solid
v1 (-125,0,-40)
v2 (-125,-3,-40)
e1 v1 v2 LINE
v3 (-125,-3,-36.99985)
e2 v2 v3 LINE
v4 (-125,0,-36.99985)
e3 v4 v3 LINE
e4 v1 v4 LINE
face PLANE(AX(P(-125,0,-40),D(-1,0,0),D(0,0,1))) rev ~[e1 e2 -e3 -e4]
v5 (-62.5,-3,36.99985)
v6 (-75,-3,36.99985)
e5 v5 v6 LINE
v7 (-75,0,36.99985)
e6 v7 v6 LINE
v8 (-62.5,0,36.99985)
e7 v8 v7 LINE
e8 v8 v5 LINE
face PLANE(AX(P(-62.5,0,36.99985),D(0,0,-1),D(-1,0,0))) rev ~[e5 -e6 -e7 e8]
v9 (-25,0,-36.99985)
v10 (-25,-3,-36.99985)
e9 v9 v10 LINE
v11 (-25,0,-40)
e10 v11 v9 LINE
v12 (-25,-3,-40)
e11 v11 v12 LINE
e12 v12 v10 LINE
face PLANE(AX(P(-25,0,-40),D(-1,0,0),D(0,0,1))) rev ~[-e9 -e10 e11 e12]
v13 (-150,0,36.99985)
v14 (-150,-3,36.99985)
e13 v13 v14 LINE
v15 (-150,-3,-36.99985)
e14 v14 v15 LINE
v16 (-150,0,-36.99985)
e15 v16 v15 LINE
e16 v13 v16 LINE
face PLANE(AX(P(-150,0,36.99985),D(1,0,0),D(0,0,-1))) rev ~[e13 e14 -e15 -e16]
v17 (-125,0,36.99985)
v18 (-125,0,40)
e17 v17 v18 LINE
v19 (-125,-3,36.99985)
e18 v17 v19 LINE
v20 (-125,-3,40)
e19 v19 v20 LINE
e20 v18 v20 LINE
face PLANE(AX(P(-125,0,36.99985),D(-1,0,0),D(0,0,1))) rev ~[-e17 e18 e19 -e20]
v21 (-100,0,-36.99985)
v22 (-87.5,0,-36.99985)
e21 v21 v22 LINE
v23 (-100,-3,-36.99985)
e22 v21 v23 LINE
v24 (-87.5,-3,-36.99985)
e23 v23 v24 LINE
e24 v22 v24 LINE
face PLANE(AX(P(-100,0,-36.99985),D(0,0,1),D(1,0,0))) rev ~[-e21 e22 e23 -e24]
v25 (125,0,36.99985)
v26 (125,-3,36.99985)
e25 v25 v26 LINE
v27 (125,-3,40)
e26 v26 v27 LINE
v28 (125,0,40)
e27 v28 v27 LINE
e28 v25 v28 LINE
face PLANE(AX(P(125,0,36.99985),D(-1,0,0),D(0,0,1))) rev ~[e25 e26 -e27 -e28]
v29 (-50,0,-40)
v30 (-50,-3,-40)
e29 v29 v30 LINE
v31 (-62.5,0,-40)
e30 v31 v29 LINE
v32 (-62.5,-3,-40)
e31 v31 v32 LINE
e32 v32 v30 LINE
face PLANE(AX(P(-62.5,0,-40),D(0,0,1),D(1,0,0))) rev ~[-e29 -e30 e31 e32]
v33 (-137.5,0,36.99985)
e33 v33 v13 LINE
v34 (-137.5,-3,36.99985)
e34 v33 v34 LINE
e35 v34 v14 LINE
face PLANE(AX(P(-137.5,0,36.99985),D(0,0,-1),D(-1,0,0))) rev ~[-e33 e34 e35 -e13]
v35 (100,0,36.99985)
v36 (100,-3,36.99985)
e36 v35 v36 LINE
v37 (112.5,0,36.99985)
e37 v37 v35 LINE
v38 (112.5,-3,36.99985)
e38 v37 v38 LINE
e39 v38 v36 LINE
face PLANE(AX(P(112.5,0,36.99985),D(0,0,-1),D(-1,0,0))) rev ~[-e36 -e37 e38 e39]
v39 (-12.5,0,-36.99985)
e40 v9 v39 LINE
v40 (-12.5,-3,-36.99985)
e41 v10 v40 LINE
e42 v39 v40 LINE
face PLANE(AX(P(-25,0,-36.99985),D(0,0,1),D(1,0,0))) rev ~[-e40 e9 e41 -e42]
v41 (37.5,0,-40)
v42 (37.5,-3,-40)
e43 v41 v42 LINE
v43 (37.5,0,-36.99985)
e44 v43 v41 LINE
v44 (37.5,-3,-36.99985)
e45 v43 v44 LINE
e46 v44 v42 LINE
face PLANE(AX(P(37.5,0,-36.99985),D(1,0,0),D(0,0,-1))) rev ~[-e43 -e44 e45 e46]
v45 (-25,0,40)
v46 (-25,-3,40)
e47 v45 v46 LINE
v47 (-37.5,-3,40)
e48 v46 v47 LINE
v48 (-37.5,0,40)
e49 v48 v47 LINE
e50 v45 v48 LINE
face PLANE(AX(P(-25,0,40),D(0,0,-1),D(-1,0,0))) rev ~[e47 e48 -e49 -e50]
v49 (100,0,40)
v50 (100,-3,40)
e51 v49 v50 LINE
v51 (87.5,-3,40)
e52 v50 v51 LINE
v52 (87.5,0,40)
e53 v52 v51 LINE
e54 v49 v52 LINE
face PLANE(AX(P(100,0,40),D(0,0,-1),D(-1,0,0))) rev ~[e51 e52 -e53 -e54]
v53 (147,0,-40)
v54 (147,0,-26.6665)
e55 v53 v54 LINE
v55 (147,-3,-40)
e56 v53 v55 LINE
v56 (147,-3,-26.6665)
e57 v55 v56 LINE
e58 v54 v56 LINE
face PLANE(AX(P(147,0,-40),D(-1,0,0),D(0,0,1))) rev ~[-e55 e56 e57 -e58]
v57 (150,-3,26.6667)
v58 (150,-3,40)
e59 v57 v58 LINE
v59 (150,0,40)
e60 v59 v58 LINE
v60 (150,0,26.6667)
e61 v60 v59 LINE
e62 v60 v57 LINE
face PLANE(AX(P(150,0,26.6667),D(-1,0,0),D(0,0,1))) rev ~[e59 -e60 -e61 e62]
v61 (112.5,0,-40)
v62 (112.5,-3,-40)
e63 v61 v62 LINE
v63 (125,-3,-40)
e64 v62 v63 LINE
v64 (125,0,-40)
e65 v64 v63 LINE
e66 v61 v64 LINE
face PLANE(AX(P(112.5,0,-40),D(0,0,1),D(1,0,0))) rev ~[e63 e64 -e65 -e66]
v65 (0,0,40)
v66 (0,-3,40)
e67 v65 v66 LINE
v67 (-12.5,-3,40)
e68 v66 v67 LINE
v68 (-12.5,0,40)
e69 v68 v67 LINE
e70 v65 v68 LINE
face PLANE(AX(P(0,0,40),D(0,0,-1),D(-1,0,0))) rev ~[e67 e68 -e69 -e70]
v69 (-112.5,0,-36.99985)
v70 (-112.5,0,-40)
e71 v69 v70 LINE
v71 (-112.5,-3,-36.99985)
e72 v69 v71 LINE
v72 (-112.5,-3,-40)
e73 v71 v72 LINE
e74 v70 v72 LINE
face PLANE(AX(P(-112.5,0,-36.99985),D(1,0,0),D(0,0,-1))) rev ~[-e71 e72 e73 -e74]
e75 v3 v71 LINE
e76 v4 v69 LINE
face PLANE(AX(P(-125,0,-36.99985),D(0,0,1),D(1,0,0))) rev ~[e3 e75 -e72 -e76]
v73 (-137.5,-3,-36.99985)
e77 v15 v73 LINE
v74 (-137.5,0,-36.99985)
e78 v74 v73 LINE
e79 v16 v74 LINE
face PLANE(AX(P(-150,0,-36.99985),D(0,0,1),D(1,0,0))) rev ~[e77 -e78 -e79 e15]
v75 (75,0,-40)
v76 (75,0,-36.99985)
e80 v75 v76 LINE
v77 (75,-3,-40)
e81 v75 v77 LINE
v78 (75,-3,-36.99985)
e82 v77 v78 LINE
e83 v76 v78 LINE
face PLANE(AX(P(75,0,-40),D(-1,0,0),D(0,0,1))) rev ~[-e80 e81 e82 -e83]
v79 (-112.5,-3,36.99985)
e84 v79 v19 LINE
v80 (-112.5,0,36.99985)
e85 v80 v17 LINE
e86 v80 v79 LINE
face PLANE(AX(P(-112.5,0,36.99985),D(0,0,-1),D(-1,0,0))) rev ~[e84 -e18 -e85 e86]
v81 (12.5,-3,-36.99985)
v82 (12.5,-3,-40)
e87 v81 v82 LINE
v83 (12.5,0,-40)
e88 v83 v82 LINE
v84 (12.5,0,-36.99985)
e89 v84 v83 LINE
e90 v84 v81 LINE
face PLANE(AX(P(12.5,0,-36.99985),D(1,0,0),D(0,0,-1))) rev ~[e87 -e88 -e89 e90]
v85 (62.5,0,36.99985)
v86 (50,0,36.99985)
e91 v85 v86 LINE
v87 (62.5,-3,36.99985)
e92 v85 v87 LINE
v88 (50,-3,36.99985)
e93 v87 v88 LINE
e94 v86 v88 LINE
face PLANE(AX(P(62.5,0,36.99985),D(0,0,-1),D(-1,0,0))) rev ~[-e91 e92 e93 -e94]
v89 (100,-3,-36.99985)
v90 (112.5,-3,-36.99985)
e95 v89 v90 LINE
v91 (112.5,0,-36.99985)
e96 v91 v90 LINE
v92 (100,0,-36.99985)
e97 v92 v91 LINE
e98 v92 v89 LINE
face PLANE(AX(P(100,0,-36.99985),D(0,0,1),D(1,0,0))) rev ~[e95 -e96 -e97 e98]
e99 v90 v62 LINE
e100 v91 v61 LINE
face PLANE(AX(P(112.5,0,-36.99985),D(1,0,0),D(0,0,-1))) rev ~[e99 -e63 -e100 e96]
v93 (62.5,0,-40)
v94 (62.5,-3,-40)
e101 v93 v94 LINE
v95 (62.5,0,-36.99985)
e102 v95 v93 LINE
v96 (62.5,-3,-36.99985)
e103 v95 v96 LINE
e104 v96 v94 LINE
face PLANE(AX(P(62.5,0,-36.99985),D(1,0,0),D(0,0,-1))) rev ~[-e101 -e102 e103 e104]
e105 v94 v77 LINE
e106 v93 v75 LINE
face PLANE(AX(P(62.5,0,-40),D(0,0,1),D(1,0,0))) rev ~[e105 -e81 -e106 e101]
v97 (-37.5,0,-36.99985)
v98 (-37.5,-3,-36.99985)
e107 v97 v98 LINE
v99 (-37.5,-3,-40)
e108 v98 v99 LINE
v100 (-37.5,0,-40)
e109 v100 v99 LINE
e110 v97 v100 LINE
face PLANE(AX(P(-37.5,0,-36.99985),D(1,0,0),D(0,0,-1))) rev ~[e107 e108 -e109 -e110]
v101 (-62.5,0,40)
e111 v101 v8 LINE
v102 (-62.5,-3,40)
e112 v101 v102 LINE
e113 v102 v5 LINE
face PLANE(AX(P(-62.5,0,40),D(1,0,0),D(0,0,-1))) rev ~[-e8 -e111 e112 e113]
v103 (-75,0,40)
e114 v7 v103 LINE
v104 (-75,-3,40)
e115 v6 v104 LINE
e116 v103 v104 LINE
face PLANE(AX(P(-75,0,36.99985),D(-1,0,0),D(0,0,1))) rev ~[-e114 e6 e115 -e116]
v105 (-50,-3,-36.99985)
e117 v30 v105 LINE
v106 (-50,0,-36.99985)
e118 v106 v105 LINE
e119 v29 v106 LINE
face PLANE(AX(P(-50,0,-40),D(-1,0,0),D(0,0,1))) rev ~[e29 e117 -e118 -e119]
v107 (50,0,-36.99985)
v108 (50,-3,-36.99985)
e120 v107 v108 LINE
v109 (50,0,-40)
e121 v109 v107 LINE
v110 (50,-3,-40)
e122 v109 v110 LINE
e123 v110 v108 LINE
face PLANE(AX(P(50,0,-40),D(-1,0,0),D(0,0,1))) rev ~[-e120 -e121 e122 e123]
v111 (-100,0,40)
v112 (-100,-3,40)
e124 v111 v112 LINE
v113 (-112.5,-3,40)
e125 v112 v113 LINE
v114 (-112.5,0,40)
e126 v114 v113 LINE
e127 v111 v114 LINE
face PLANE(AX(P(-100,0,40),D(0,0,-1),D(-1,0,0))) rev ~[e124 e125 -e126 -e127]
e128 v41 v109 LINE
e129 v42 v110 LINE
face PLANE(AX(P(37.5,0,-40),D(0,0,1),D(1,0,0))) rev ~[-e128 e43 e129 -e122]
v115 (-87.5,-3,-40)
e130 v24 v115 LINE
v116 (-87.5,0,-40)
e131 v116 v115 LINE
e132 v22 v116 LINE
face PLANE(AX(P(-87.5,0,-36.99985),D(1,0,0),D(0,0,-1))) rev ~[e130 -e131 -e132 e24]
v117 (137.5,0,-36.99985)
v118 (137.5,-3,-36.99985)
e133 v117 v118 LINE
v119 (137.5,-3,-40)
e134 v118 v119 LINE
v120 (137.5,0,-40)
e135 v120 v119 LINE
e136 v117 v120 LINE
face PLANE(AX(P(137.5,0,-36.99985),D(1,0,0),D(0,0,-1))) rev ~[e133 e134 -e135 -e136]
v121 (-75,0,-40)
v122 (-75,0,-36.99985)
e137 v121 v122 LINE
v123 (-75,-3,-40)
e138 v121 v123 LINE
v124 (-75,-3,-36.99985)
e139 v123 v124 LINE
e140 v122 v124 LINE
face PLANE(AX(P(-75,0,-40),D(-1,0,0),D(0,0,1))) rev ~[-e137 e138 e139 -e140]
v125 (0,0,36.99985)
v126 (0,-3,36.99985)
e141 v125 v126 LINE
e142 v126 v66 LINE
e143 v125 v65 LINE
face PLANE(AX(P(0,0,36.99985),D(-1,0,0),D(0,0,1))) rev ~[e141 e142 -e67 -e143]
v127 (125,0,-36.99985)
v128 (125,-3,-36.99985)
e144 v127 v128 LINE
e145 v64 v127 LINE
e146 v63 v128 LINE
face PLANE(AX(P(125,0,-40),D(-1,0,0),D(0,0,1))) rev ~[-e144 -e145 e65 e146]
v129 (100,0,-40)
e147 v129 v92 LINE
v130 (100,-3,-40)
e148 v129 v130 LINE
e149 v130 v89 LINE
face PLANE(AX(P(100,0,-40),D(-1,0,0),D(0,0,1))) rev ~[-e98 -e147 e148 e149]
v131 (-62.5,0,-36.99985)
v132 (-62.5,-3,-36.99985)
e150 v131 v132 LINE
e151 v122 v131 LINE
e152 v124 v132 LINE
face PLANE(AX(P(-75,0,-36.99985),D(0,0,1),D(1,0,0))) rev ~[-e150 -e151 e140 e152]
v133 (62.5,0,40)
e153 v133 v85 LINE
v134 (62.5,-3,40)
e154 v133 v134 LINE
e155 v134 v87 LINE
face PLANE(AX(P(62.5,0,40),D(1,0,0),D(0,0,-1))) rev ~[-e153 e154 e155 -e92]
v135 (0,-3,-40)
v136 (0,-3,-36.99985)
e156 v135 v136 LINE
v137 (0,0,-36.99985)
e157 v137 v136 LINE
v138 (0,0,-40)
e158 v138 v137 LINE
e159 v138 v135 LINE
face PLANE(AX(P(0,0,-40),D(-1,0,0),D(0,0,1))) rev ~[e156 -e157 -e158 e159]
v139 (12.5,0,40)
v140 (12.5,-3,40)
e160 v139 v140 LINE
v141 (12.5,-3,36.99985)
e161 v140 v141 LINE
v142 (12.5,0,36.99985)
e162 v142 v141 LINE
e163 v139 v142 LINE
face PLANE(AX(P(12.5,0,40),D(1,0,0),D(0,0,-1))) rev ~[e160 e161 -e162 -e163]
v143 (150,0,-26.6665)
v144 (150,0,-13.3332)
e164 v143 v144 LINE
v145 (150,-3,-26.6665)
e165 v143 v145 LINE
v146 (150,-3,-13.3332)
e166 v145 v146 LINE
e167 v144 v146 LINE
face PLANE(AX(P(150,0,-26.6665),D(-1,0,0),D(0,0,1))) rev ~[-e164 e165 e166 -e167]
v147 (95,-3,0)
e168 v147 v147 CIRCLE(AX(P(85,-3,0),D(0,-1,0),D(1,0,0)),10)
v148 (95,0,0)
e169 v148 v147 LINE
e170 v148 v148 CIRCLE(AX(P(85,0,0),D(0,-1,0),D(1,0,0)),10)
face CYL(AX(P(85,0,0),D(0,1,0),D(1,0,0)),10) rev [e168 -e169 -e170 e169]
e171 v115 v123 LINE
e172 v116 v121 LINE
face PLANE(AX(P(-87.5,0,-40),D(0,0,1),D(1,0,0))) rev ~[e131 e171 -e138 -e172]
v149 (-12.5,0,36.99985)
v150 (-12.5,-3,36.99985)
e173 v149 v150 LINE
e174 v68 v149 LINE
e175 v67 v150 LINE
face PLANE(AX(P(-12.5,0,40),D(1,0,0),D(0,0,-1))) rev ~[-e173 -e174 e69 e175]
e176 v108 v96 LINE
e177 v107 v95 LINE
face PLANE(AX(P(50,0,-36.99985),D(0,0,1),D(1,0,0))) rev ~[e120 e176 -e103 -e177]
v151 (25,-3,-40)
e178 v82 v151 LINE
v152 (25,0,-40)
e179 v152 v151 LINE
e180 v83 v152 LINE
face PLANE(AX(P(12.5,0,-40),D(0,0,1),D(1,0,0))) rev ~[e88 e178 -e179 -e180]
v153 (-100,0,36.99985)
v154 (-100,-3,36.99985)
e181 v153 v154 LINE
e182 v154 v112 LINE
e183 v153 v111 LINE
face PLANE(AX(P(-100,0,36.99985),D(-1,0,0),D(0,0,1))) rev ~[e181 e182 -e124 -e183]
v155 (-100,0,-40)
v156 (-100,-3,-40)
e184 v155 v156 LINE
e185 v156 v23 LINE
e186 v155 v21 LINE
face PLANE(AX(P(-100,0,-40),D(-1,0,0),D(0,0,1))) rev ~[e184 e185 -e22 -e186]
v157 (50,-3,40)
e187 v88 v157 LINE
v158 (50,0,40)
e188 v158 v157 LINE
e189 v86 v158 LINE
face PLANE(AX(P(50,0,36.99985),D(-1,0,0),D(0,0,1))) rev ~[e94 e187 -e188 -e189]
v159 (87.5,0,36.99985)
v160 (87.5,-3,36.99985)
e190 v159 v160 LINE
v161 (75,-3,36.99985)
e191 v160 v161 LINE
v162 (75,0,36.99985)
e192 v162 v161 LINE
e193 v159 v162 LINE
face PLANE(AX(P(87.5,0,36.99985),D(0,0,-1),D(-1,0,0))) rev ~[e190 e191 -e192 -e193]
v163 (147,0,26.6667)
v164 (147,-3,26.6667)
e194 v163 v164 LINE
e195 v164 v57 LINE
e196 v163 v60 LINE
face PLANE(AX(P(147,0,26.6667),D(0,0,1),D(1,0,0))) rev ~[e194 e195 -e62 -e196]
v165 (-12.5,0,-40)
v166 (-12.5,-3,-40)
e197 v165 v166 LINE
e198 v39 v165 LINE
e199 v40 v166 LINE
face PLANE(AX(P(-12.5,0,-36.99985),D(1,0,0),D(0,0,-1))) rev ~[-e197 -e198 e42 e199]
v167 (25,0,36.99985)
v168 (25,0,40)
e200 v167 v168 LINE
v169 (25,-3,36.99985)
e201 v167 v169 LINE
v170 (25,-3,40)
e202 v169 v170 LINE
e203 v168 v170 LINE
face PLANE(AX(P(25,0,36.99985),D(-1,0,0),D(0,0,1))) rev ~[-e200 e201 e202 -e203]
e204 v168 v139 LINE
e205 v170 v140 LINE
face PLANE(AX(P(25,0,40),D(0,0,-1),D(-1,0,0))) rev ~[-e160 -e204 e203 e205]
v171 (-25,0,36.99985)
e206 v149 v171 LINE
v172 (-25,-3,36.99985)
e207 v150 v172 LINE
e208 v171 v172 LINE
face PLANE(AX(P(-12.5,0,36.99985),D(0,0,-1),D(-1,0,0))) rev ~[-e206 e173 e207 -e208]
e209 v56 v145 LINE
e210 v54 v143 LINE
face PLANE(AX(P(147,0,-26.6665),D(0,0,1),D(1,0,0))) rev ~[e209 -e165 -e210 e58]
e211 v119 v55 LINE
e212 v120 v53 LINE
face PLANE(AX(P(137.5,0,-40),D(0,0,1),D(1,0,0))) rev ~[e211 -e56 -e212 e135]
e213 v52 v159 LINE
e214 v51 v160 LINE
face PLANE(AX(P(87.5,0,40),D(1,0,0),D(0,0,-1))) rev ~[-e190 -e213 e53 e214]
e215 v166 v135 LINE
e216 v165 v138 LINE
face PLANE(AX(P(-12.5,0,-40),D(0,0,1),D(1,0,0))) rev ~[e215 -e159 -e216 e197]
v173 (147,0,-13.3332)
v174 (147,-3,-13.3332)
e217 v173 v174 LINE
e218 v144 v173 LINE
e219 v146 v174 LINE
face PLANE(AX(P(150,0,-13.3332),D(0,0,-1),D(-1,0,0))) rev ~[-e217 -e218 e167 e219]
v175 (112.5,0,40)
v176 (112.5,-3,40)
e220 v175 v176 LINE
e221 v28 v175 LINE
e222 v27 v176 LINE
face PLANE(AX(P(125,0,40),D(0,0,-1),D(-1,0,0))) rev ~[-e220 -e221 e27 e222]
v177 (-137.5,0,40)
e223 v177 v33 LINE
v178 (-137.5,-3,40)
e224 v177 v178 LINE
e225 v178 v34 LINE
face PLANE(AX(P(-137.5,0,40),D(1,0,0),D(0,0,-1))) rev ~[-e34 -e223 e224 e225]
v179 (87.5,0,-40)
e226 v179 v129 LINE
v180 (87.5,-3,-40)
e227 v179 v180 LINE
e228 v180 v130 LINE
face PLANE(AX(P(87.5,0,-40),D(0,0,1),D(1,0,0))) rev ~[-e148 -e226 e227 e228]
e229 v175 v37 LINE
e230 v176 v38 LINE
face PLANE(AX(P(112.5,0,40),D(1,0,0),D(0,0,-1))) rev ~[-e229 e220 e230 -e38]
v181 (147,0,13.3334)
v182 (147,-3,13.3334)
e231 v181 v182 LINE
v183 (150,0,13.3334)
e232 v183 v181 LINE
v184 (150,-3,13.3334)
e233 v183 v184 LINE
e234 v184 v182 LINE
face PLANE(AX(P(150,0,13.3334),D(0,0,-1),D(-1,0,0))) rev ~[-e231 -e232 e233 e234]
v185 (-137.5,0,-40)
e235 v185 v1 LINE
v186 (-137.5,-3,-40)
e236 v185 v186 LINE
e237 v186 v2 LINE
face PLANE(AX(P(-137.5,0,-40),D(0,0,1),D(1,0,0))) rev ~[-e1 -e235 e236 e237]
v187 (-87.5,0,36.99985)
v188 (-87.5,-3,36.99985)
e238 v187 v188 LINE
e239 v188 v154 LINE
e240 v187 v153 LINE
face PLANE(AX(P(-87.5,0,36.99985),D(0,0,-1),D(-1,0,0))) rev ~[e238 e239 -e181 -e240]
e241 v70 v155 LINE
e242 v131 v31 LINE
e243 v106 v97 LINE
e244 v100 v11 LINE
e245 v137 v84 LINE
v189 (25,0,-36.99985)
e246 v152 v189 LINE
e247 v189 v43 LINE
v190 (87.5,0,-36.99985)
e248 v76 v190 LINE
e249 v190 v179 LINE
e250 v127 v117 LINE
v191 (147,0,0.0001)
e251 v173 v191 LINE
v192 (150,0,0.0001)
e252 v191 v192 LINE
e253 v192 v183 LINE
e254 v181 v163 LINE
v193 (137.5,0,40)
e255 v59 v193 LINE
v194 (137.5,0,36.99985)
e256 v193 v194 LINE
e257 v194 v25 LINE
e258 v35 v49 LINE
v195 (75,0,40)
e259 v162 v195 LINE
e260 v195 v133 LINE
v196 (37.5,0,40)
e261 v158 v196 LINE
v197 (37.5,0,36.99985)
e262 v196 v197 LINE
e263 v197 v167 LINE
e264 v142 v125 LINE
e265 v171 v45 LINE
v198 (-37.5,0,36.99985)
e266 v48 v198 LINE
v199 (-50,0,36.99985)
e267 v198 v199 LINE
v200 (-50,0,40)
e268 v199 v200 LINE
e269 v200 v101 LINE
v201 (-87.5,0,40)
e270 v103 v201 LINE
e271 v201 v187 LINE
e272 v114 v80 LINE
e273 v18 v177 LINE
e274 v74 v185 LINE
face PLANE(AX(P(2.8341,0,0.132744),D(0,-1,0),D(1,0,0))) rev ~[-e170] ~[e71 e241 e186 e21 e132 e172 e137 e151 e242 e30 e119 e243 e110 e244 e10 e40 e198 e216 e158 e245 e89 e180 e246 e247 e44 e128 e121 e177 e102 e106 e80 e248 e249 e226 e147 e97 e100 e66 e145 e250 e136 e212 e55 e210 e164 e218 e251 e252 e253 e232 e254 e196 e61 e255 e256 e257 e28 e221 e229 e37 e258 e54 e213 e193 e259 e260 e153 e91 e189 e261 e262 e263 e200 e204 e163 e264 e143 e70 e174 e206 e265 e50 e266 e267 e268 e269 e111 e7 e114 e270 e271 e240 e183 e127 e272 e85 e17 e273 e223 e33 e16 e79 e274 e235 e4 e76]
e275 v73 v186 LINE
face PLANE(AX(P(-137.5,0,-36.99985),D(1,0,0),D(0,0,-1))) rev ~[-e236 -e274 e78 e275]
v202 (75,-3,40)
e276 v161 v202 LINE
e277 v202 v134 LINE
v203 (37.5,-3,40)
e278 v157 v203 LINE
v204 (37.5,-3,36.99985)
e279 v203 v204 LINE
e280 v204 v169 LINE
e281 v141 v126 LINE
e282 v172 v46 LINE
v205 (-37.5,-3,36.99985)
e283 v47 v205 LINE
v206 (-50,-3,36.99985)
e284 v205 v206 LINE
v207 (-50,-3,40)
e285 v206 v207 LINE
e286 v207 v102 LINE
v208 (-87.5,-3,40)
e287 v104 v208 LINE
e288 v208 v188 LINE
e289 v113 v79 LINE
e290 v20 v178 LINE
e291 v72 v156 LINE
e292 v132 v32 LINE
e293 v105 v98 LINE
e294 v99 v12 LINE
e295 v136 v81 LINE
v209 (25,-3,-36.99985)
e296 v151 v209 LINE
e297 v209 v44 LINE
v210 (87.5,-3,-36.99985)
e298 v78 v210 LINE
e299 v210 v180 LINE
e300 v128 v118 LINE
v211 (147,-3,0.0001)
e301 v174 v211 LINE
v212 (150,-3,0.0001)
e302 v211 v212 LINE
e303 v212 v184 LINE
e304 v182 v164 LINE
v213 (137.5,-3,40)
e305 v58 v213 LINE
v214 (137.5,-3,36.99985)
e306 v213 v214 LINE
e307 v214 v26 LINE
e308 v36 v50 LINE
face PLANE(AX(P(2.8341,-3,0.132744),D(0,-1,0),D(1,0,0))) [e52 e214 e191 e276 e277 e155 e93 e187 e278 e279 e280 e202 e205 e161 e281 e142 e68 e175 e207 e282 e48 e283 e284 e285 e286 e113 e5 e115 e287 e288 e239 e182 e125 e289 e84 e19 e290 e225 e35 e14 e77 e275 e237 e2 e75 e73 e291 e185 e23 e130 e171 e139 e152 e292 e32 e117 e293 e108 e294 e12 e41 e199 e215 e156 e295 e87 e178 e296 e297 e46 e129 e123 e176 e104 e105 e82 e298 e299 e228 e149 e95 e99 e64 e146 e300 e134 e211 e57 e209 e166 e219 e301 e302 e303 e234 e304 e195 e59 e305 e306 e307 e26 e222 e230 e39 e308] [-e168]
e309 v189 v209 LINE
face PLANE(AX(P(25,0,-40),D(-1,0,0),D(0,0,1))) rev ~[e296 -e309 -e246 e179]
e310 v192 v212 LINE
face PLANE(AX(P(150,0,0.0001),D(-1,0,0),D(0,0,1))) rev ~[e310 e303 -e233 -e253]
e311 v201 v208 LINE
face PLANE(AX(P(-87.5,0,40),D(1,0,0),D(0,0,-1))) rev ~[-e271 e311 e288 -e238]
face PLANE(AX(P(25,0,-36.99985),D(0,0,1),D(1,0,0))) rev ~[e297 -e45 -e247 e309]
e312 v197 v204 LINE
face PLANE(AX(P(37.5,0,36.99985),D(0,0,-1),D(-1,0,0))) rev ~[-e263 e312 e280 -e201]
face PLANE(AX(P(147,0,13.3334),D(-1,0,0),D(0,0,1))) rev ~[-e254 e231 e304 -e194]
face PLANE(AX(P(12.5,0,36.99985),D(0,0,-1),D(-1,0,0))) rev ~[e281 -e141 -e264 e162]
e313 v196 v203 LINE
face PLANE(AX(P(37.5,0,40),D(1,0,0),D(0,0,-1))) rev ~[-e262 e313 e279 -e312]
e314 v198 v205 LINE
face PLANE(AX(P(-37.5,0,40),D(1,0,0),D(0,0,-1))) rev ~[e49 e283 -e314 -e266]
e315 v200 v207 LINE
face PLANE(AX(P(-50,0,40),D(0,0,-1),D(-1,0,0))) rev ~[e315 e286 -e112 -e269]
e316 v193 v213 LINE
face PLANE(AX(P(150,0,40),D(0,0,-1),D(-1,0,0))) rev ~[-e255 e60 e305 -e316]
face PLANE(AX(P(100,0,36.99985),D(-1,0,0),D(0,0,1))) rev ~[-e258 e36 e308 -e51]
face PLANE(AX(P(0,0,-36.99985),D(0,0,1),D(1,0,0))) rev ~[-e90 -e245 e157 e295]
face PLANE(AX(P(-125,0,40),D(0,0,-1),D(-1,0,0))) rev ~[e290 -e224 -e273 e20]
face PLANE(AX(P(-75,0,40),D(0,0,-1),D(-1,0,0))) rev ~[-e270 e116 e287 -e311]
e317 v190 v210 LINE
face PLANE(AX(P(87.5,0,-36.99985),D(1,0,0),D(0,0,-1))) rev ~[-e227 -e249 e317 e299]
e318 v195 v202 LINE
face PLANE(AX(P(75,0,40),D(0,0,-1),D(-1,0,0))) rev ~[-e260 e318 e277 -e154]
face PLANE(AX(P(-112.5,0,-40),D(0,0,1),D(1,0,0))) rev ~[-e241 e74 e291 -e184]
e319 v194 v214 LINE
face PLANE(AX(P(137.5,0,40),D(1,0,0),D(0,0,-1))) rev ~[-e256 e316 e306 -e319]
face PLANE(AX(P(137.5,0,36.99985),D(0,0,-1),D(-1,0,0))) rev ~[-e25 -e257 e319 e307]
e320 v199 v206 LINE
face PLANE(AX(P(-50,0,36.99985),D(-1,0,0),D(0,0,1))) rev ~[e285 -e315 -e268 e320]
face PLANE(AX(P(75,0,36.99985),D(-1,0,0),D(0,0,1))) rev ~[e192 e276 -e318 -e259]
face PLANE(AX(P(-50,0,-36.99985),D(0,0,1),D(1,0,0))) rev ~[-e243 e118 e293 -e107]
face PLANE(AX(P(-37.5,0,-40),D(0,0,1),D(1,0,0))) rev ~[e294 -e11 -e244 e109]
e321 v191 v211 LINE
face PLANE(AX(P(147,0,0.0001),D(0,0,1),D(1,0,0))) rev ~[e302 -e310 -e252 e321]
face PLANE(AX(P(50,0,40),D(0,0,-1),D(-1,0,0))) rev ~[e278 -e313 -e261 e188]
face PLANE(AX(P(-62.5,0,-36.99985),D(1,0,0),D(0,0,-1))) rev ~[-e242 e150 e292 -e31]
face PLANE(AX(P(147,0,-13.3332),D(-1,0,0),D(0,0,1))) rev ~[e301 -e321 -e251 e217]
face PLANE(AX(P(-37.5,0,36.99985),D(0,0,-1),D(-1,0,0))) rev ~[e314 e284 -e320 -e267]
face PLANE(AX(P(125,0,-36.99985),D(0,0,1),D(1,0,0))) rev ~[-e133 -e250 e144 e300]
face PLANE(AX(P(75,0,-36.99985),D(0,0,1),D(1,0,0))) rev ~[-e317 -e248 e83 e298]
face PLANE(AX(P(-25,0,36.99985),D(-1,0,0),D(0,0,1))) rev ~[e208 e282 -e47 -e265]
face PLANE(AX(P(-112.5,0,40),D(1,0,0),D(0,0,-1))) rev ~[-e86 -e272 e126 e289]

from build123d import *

# Parameters (mm, degrees)
F0_R     = 10
F1_DEPTH = 3


with BuildPart() as f1:
    # F0 (on Front) → F1 (new body)
    with BuildSketch(Plane.XZ):
        Polygon((147, -26.6665), (150, -26.6665), (150, -13.3332), (147, -13.3332), (147, 0.0001), (150, 0.0001), (150, 13.3334), (147, 13.3334), (147, 26.6667), (150, 26.6667), (150, 40), (137.5, 40), (137.5, 36.99985), (125, 36.99985), (125, 40), (112.5, 40), (112.5, 36.99985), (100, 36.99985), (100, 40), (87.5, 40), (87.5, 36.99985), (75, 36.99985), (75, 40), (62.5, 40), (62.5, 36.99985), (50, 36.99985), (50, 40), (37.5, 40), (37.5, 36.99985), (25, 36.99985), (25, 40), (12.5, 40), (12.5, 36.99985), (0, 36.99985), (0, 40), (-12.5, 40), (-12.5, 36.99985), (-25, 36.99985), (-25, 40), (-37.5, 40), (-37.5, 36.99985), (-50, 36.99985), (-50, 40), (-62.5, 40), (-62.5, 36.99985), (-75, 36.99985), (-75, 40), (-87.5, 40), (-87.5, 36.99985), (-100, 36.99985), (-100, 40), (-112.5, 40), (-112.5, 36.99985), (-125, 36.99985), (-125, 40), (-137.5, 40), (-137.5, 36.99985), (-150, 36.99985), (-150, -36.99985), (-137.5, -36.99985), (-137.5, -40), (-125, -40), (-125, -36.99985), (-112.5, -36.99985), (-112.5, -40), (-100, -40), (-100, -36.99985), (-87.5, -36.99985), (-87.5, -40), (-75, -40), (-75, -36.99985), (-62.5, -36.99985), (-62.5, -40), (-50, -40), (-50, -36.99985), (-37.5, -36.99985), (-37.5, -40), (-25, -40), (-25, -36.99985), (-12.5, -36.99985), (-12.5, -40), (0, -40), (0, -36.99985), (12.5, -36.99985), (12.5, -40), (25, -40), (25, -36.99985), (37.5, -36.99985), (37.5, -40), (50, -40), (50, -36.99985), (62.5, -36.99985), (62.5, -40), (75, -40), (75, -36.99985), (87.5, -36.99985), (87.5, -40), (100, -40), (100, -36.99985), (112.5, -36.99985), (112.5, -40), (125, -40), (125, -36.99985), (137.5, -36.99985), (137.5, -40), (147, -40), align=None)
        with Locations((85, 0)):
            Circle(F0_R, mode=Mode.SUBTRACT)
    extrude(amount=F1_DEPTH)


solid = f1.part
